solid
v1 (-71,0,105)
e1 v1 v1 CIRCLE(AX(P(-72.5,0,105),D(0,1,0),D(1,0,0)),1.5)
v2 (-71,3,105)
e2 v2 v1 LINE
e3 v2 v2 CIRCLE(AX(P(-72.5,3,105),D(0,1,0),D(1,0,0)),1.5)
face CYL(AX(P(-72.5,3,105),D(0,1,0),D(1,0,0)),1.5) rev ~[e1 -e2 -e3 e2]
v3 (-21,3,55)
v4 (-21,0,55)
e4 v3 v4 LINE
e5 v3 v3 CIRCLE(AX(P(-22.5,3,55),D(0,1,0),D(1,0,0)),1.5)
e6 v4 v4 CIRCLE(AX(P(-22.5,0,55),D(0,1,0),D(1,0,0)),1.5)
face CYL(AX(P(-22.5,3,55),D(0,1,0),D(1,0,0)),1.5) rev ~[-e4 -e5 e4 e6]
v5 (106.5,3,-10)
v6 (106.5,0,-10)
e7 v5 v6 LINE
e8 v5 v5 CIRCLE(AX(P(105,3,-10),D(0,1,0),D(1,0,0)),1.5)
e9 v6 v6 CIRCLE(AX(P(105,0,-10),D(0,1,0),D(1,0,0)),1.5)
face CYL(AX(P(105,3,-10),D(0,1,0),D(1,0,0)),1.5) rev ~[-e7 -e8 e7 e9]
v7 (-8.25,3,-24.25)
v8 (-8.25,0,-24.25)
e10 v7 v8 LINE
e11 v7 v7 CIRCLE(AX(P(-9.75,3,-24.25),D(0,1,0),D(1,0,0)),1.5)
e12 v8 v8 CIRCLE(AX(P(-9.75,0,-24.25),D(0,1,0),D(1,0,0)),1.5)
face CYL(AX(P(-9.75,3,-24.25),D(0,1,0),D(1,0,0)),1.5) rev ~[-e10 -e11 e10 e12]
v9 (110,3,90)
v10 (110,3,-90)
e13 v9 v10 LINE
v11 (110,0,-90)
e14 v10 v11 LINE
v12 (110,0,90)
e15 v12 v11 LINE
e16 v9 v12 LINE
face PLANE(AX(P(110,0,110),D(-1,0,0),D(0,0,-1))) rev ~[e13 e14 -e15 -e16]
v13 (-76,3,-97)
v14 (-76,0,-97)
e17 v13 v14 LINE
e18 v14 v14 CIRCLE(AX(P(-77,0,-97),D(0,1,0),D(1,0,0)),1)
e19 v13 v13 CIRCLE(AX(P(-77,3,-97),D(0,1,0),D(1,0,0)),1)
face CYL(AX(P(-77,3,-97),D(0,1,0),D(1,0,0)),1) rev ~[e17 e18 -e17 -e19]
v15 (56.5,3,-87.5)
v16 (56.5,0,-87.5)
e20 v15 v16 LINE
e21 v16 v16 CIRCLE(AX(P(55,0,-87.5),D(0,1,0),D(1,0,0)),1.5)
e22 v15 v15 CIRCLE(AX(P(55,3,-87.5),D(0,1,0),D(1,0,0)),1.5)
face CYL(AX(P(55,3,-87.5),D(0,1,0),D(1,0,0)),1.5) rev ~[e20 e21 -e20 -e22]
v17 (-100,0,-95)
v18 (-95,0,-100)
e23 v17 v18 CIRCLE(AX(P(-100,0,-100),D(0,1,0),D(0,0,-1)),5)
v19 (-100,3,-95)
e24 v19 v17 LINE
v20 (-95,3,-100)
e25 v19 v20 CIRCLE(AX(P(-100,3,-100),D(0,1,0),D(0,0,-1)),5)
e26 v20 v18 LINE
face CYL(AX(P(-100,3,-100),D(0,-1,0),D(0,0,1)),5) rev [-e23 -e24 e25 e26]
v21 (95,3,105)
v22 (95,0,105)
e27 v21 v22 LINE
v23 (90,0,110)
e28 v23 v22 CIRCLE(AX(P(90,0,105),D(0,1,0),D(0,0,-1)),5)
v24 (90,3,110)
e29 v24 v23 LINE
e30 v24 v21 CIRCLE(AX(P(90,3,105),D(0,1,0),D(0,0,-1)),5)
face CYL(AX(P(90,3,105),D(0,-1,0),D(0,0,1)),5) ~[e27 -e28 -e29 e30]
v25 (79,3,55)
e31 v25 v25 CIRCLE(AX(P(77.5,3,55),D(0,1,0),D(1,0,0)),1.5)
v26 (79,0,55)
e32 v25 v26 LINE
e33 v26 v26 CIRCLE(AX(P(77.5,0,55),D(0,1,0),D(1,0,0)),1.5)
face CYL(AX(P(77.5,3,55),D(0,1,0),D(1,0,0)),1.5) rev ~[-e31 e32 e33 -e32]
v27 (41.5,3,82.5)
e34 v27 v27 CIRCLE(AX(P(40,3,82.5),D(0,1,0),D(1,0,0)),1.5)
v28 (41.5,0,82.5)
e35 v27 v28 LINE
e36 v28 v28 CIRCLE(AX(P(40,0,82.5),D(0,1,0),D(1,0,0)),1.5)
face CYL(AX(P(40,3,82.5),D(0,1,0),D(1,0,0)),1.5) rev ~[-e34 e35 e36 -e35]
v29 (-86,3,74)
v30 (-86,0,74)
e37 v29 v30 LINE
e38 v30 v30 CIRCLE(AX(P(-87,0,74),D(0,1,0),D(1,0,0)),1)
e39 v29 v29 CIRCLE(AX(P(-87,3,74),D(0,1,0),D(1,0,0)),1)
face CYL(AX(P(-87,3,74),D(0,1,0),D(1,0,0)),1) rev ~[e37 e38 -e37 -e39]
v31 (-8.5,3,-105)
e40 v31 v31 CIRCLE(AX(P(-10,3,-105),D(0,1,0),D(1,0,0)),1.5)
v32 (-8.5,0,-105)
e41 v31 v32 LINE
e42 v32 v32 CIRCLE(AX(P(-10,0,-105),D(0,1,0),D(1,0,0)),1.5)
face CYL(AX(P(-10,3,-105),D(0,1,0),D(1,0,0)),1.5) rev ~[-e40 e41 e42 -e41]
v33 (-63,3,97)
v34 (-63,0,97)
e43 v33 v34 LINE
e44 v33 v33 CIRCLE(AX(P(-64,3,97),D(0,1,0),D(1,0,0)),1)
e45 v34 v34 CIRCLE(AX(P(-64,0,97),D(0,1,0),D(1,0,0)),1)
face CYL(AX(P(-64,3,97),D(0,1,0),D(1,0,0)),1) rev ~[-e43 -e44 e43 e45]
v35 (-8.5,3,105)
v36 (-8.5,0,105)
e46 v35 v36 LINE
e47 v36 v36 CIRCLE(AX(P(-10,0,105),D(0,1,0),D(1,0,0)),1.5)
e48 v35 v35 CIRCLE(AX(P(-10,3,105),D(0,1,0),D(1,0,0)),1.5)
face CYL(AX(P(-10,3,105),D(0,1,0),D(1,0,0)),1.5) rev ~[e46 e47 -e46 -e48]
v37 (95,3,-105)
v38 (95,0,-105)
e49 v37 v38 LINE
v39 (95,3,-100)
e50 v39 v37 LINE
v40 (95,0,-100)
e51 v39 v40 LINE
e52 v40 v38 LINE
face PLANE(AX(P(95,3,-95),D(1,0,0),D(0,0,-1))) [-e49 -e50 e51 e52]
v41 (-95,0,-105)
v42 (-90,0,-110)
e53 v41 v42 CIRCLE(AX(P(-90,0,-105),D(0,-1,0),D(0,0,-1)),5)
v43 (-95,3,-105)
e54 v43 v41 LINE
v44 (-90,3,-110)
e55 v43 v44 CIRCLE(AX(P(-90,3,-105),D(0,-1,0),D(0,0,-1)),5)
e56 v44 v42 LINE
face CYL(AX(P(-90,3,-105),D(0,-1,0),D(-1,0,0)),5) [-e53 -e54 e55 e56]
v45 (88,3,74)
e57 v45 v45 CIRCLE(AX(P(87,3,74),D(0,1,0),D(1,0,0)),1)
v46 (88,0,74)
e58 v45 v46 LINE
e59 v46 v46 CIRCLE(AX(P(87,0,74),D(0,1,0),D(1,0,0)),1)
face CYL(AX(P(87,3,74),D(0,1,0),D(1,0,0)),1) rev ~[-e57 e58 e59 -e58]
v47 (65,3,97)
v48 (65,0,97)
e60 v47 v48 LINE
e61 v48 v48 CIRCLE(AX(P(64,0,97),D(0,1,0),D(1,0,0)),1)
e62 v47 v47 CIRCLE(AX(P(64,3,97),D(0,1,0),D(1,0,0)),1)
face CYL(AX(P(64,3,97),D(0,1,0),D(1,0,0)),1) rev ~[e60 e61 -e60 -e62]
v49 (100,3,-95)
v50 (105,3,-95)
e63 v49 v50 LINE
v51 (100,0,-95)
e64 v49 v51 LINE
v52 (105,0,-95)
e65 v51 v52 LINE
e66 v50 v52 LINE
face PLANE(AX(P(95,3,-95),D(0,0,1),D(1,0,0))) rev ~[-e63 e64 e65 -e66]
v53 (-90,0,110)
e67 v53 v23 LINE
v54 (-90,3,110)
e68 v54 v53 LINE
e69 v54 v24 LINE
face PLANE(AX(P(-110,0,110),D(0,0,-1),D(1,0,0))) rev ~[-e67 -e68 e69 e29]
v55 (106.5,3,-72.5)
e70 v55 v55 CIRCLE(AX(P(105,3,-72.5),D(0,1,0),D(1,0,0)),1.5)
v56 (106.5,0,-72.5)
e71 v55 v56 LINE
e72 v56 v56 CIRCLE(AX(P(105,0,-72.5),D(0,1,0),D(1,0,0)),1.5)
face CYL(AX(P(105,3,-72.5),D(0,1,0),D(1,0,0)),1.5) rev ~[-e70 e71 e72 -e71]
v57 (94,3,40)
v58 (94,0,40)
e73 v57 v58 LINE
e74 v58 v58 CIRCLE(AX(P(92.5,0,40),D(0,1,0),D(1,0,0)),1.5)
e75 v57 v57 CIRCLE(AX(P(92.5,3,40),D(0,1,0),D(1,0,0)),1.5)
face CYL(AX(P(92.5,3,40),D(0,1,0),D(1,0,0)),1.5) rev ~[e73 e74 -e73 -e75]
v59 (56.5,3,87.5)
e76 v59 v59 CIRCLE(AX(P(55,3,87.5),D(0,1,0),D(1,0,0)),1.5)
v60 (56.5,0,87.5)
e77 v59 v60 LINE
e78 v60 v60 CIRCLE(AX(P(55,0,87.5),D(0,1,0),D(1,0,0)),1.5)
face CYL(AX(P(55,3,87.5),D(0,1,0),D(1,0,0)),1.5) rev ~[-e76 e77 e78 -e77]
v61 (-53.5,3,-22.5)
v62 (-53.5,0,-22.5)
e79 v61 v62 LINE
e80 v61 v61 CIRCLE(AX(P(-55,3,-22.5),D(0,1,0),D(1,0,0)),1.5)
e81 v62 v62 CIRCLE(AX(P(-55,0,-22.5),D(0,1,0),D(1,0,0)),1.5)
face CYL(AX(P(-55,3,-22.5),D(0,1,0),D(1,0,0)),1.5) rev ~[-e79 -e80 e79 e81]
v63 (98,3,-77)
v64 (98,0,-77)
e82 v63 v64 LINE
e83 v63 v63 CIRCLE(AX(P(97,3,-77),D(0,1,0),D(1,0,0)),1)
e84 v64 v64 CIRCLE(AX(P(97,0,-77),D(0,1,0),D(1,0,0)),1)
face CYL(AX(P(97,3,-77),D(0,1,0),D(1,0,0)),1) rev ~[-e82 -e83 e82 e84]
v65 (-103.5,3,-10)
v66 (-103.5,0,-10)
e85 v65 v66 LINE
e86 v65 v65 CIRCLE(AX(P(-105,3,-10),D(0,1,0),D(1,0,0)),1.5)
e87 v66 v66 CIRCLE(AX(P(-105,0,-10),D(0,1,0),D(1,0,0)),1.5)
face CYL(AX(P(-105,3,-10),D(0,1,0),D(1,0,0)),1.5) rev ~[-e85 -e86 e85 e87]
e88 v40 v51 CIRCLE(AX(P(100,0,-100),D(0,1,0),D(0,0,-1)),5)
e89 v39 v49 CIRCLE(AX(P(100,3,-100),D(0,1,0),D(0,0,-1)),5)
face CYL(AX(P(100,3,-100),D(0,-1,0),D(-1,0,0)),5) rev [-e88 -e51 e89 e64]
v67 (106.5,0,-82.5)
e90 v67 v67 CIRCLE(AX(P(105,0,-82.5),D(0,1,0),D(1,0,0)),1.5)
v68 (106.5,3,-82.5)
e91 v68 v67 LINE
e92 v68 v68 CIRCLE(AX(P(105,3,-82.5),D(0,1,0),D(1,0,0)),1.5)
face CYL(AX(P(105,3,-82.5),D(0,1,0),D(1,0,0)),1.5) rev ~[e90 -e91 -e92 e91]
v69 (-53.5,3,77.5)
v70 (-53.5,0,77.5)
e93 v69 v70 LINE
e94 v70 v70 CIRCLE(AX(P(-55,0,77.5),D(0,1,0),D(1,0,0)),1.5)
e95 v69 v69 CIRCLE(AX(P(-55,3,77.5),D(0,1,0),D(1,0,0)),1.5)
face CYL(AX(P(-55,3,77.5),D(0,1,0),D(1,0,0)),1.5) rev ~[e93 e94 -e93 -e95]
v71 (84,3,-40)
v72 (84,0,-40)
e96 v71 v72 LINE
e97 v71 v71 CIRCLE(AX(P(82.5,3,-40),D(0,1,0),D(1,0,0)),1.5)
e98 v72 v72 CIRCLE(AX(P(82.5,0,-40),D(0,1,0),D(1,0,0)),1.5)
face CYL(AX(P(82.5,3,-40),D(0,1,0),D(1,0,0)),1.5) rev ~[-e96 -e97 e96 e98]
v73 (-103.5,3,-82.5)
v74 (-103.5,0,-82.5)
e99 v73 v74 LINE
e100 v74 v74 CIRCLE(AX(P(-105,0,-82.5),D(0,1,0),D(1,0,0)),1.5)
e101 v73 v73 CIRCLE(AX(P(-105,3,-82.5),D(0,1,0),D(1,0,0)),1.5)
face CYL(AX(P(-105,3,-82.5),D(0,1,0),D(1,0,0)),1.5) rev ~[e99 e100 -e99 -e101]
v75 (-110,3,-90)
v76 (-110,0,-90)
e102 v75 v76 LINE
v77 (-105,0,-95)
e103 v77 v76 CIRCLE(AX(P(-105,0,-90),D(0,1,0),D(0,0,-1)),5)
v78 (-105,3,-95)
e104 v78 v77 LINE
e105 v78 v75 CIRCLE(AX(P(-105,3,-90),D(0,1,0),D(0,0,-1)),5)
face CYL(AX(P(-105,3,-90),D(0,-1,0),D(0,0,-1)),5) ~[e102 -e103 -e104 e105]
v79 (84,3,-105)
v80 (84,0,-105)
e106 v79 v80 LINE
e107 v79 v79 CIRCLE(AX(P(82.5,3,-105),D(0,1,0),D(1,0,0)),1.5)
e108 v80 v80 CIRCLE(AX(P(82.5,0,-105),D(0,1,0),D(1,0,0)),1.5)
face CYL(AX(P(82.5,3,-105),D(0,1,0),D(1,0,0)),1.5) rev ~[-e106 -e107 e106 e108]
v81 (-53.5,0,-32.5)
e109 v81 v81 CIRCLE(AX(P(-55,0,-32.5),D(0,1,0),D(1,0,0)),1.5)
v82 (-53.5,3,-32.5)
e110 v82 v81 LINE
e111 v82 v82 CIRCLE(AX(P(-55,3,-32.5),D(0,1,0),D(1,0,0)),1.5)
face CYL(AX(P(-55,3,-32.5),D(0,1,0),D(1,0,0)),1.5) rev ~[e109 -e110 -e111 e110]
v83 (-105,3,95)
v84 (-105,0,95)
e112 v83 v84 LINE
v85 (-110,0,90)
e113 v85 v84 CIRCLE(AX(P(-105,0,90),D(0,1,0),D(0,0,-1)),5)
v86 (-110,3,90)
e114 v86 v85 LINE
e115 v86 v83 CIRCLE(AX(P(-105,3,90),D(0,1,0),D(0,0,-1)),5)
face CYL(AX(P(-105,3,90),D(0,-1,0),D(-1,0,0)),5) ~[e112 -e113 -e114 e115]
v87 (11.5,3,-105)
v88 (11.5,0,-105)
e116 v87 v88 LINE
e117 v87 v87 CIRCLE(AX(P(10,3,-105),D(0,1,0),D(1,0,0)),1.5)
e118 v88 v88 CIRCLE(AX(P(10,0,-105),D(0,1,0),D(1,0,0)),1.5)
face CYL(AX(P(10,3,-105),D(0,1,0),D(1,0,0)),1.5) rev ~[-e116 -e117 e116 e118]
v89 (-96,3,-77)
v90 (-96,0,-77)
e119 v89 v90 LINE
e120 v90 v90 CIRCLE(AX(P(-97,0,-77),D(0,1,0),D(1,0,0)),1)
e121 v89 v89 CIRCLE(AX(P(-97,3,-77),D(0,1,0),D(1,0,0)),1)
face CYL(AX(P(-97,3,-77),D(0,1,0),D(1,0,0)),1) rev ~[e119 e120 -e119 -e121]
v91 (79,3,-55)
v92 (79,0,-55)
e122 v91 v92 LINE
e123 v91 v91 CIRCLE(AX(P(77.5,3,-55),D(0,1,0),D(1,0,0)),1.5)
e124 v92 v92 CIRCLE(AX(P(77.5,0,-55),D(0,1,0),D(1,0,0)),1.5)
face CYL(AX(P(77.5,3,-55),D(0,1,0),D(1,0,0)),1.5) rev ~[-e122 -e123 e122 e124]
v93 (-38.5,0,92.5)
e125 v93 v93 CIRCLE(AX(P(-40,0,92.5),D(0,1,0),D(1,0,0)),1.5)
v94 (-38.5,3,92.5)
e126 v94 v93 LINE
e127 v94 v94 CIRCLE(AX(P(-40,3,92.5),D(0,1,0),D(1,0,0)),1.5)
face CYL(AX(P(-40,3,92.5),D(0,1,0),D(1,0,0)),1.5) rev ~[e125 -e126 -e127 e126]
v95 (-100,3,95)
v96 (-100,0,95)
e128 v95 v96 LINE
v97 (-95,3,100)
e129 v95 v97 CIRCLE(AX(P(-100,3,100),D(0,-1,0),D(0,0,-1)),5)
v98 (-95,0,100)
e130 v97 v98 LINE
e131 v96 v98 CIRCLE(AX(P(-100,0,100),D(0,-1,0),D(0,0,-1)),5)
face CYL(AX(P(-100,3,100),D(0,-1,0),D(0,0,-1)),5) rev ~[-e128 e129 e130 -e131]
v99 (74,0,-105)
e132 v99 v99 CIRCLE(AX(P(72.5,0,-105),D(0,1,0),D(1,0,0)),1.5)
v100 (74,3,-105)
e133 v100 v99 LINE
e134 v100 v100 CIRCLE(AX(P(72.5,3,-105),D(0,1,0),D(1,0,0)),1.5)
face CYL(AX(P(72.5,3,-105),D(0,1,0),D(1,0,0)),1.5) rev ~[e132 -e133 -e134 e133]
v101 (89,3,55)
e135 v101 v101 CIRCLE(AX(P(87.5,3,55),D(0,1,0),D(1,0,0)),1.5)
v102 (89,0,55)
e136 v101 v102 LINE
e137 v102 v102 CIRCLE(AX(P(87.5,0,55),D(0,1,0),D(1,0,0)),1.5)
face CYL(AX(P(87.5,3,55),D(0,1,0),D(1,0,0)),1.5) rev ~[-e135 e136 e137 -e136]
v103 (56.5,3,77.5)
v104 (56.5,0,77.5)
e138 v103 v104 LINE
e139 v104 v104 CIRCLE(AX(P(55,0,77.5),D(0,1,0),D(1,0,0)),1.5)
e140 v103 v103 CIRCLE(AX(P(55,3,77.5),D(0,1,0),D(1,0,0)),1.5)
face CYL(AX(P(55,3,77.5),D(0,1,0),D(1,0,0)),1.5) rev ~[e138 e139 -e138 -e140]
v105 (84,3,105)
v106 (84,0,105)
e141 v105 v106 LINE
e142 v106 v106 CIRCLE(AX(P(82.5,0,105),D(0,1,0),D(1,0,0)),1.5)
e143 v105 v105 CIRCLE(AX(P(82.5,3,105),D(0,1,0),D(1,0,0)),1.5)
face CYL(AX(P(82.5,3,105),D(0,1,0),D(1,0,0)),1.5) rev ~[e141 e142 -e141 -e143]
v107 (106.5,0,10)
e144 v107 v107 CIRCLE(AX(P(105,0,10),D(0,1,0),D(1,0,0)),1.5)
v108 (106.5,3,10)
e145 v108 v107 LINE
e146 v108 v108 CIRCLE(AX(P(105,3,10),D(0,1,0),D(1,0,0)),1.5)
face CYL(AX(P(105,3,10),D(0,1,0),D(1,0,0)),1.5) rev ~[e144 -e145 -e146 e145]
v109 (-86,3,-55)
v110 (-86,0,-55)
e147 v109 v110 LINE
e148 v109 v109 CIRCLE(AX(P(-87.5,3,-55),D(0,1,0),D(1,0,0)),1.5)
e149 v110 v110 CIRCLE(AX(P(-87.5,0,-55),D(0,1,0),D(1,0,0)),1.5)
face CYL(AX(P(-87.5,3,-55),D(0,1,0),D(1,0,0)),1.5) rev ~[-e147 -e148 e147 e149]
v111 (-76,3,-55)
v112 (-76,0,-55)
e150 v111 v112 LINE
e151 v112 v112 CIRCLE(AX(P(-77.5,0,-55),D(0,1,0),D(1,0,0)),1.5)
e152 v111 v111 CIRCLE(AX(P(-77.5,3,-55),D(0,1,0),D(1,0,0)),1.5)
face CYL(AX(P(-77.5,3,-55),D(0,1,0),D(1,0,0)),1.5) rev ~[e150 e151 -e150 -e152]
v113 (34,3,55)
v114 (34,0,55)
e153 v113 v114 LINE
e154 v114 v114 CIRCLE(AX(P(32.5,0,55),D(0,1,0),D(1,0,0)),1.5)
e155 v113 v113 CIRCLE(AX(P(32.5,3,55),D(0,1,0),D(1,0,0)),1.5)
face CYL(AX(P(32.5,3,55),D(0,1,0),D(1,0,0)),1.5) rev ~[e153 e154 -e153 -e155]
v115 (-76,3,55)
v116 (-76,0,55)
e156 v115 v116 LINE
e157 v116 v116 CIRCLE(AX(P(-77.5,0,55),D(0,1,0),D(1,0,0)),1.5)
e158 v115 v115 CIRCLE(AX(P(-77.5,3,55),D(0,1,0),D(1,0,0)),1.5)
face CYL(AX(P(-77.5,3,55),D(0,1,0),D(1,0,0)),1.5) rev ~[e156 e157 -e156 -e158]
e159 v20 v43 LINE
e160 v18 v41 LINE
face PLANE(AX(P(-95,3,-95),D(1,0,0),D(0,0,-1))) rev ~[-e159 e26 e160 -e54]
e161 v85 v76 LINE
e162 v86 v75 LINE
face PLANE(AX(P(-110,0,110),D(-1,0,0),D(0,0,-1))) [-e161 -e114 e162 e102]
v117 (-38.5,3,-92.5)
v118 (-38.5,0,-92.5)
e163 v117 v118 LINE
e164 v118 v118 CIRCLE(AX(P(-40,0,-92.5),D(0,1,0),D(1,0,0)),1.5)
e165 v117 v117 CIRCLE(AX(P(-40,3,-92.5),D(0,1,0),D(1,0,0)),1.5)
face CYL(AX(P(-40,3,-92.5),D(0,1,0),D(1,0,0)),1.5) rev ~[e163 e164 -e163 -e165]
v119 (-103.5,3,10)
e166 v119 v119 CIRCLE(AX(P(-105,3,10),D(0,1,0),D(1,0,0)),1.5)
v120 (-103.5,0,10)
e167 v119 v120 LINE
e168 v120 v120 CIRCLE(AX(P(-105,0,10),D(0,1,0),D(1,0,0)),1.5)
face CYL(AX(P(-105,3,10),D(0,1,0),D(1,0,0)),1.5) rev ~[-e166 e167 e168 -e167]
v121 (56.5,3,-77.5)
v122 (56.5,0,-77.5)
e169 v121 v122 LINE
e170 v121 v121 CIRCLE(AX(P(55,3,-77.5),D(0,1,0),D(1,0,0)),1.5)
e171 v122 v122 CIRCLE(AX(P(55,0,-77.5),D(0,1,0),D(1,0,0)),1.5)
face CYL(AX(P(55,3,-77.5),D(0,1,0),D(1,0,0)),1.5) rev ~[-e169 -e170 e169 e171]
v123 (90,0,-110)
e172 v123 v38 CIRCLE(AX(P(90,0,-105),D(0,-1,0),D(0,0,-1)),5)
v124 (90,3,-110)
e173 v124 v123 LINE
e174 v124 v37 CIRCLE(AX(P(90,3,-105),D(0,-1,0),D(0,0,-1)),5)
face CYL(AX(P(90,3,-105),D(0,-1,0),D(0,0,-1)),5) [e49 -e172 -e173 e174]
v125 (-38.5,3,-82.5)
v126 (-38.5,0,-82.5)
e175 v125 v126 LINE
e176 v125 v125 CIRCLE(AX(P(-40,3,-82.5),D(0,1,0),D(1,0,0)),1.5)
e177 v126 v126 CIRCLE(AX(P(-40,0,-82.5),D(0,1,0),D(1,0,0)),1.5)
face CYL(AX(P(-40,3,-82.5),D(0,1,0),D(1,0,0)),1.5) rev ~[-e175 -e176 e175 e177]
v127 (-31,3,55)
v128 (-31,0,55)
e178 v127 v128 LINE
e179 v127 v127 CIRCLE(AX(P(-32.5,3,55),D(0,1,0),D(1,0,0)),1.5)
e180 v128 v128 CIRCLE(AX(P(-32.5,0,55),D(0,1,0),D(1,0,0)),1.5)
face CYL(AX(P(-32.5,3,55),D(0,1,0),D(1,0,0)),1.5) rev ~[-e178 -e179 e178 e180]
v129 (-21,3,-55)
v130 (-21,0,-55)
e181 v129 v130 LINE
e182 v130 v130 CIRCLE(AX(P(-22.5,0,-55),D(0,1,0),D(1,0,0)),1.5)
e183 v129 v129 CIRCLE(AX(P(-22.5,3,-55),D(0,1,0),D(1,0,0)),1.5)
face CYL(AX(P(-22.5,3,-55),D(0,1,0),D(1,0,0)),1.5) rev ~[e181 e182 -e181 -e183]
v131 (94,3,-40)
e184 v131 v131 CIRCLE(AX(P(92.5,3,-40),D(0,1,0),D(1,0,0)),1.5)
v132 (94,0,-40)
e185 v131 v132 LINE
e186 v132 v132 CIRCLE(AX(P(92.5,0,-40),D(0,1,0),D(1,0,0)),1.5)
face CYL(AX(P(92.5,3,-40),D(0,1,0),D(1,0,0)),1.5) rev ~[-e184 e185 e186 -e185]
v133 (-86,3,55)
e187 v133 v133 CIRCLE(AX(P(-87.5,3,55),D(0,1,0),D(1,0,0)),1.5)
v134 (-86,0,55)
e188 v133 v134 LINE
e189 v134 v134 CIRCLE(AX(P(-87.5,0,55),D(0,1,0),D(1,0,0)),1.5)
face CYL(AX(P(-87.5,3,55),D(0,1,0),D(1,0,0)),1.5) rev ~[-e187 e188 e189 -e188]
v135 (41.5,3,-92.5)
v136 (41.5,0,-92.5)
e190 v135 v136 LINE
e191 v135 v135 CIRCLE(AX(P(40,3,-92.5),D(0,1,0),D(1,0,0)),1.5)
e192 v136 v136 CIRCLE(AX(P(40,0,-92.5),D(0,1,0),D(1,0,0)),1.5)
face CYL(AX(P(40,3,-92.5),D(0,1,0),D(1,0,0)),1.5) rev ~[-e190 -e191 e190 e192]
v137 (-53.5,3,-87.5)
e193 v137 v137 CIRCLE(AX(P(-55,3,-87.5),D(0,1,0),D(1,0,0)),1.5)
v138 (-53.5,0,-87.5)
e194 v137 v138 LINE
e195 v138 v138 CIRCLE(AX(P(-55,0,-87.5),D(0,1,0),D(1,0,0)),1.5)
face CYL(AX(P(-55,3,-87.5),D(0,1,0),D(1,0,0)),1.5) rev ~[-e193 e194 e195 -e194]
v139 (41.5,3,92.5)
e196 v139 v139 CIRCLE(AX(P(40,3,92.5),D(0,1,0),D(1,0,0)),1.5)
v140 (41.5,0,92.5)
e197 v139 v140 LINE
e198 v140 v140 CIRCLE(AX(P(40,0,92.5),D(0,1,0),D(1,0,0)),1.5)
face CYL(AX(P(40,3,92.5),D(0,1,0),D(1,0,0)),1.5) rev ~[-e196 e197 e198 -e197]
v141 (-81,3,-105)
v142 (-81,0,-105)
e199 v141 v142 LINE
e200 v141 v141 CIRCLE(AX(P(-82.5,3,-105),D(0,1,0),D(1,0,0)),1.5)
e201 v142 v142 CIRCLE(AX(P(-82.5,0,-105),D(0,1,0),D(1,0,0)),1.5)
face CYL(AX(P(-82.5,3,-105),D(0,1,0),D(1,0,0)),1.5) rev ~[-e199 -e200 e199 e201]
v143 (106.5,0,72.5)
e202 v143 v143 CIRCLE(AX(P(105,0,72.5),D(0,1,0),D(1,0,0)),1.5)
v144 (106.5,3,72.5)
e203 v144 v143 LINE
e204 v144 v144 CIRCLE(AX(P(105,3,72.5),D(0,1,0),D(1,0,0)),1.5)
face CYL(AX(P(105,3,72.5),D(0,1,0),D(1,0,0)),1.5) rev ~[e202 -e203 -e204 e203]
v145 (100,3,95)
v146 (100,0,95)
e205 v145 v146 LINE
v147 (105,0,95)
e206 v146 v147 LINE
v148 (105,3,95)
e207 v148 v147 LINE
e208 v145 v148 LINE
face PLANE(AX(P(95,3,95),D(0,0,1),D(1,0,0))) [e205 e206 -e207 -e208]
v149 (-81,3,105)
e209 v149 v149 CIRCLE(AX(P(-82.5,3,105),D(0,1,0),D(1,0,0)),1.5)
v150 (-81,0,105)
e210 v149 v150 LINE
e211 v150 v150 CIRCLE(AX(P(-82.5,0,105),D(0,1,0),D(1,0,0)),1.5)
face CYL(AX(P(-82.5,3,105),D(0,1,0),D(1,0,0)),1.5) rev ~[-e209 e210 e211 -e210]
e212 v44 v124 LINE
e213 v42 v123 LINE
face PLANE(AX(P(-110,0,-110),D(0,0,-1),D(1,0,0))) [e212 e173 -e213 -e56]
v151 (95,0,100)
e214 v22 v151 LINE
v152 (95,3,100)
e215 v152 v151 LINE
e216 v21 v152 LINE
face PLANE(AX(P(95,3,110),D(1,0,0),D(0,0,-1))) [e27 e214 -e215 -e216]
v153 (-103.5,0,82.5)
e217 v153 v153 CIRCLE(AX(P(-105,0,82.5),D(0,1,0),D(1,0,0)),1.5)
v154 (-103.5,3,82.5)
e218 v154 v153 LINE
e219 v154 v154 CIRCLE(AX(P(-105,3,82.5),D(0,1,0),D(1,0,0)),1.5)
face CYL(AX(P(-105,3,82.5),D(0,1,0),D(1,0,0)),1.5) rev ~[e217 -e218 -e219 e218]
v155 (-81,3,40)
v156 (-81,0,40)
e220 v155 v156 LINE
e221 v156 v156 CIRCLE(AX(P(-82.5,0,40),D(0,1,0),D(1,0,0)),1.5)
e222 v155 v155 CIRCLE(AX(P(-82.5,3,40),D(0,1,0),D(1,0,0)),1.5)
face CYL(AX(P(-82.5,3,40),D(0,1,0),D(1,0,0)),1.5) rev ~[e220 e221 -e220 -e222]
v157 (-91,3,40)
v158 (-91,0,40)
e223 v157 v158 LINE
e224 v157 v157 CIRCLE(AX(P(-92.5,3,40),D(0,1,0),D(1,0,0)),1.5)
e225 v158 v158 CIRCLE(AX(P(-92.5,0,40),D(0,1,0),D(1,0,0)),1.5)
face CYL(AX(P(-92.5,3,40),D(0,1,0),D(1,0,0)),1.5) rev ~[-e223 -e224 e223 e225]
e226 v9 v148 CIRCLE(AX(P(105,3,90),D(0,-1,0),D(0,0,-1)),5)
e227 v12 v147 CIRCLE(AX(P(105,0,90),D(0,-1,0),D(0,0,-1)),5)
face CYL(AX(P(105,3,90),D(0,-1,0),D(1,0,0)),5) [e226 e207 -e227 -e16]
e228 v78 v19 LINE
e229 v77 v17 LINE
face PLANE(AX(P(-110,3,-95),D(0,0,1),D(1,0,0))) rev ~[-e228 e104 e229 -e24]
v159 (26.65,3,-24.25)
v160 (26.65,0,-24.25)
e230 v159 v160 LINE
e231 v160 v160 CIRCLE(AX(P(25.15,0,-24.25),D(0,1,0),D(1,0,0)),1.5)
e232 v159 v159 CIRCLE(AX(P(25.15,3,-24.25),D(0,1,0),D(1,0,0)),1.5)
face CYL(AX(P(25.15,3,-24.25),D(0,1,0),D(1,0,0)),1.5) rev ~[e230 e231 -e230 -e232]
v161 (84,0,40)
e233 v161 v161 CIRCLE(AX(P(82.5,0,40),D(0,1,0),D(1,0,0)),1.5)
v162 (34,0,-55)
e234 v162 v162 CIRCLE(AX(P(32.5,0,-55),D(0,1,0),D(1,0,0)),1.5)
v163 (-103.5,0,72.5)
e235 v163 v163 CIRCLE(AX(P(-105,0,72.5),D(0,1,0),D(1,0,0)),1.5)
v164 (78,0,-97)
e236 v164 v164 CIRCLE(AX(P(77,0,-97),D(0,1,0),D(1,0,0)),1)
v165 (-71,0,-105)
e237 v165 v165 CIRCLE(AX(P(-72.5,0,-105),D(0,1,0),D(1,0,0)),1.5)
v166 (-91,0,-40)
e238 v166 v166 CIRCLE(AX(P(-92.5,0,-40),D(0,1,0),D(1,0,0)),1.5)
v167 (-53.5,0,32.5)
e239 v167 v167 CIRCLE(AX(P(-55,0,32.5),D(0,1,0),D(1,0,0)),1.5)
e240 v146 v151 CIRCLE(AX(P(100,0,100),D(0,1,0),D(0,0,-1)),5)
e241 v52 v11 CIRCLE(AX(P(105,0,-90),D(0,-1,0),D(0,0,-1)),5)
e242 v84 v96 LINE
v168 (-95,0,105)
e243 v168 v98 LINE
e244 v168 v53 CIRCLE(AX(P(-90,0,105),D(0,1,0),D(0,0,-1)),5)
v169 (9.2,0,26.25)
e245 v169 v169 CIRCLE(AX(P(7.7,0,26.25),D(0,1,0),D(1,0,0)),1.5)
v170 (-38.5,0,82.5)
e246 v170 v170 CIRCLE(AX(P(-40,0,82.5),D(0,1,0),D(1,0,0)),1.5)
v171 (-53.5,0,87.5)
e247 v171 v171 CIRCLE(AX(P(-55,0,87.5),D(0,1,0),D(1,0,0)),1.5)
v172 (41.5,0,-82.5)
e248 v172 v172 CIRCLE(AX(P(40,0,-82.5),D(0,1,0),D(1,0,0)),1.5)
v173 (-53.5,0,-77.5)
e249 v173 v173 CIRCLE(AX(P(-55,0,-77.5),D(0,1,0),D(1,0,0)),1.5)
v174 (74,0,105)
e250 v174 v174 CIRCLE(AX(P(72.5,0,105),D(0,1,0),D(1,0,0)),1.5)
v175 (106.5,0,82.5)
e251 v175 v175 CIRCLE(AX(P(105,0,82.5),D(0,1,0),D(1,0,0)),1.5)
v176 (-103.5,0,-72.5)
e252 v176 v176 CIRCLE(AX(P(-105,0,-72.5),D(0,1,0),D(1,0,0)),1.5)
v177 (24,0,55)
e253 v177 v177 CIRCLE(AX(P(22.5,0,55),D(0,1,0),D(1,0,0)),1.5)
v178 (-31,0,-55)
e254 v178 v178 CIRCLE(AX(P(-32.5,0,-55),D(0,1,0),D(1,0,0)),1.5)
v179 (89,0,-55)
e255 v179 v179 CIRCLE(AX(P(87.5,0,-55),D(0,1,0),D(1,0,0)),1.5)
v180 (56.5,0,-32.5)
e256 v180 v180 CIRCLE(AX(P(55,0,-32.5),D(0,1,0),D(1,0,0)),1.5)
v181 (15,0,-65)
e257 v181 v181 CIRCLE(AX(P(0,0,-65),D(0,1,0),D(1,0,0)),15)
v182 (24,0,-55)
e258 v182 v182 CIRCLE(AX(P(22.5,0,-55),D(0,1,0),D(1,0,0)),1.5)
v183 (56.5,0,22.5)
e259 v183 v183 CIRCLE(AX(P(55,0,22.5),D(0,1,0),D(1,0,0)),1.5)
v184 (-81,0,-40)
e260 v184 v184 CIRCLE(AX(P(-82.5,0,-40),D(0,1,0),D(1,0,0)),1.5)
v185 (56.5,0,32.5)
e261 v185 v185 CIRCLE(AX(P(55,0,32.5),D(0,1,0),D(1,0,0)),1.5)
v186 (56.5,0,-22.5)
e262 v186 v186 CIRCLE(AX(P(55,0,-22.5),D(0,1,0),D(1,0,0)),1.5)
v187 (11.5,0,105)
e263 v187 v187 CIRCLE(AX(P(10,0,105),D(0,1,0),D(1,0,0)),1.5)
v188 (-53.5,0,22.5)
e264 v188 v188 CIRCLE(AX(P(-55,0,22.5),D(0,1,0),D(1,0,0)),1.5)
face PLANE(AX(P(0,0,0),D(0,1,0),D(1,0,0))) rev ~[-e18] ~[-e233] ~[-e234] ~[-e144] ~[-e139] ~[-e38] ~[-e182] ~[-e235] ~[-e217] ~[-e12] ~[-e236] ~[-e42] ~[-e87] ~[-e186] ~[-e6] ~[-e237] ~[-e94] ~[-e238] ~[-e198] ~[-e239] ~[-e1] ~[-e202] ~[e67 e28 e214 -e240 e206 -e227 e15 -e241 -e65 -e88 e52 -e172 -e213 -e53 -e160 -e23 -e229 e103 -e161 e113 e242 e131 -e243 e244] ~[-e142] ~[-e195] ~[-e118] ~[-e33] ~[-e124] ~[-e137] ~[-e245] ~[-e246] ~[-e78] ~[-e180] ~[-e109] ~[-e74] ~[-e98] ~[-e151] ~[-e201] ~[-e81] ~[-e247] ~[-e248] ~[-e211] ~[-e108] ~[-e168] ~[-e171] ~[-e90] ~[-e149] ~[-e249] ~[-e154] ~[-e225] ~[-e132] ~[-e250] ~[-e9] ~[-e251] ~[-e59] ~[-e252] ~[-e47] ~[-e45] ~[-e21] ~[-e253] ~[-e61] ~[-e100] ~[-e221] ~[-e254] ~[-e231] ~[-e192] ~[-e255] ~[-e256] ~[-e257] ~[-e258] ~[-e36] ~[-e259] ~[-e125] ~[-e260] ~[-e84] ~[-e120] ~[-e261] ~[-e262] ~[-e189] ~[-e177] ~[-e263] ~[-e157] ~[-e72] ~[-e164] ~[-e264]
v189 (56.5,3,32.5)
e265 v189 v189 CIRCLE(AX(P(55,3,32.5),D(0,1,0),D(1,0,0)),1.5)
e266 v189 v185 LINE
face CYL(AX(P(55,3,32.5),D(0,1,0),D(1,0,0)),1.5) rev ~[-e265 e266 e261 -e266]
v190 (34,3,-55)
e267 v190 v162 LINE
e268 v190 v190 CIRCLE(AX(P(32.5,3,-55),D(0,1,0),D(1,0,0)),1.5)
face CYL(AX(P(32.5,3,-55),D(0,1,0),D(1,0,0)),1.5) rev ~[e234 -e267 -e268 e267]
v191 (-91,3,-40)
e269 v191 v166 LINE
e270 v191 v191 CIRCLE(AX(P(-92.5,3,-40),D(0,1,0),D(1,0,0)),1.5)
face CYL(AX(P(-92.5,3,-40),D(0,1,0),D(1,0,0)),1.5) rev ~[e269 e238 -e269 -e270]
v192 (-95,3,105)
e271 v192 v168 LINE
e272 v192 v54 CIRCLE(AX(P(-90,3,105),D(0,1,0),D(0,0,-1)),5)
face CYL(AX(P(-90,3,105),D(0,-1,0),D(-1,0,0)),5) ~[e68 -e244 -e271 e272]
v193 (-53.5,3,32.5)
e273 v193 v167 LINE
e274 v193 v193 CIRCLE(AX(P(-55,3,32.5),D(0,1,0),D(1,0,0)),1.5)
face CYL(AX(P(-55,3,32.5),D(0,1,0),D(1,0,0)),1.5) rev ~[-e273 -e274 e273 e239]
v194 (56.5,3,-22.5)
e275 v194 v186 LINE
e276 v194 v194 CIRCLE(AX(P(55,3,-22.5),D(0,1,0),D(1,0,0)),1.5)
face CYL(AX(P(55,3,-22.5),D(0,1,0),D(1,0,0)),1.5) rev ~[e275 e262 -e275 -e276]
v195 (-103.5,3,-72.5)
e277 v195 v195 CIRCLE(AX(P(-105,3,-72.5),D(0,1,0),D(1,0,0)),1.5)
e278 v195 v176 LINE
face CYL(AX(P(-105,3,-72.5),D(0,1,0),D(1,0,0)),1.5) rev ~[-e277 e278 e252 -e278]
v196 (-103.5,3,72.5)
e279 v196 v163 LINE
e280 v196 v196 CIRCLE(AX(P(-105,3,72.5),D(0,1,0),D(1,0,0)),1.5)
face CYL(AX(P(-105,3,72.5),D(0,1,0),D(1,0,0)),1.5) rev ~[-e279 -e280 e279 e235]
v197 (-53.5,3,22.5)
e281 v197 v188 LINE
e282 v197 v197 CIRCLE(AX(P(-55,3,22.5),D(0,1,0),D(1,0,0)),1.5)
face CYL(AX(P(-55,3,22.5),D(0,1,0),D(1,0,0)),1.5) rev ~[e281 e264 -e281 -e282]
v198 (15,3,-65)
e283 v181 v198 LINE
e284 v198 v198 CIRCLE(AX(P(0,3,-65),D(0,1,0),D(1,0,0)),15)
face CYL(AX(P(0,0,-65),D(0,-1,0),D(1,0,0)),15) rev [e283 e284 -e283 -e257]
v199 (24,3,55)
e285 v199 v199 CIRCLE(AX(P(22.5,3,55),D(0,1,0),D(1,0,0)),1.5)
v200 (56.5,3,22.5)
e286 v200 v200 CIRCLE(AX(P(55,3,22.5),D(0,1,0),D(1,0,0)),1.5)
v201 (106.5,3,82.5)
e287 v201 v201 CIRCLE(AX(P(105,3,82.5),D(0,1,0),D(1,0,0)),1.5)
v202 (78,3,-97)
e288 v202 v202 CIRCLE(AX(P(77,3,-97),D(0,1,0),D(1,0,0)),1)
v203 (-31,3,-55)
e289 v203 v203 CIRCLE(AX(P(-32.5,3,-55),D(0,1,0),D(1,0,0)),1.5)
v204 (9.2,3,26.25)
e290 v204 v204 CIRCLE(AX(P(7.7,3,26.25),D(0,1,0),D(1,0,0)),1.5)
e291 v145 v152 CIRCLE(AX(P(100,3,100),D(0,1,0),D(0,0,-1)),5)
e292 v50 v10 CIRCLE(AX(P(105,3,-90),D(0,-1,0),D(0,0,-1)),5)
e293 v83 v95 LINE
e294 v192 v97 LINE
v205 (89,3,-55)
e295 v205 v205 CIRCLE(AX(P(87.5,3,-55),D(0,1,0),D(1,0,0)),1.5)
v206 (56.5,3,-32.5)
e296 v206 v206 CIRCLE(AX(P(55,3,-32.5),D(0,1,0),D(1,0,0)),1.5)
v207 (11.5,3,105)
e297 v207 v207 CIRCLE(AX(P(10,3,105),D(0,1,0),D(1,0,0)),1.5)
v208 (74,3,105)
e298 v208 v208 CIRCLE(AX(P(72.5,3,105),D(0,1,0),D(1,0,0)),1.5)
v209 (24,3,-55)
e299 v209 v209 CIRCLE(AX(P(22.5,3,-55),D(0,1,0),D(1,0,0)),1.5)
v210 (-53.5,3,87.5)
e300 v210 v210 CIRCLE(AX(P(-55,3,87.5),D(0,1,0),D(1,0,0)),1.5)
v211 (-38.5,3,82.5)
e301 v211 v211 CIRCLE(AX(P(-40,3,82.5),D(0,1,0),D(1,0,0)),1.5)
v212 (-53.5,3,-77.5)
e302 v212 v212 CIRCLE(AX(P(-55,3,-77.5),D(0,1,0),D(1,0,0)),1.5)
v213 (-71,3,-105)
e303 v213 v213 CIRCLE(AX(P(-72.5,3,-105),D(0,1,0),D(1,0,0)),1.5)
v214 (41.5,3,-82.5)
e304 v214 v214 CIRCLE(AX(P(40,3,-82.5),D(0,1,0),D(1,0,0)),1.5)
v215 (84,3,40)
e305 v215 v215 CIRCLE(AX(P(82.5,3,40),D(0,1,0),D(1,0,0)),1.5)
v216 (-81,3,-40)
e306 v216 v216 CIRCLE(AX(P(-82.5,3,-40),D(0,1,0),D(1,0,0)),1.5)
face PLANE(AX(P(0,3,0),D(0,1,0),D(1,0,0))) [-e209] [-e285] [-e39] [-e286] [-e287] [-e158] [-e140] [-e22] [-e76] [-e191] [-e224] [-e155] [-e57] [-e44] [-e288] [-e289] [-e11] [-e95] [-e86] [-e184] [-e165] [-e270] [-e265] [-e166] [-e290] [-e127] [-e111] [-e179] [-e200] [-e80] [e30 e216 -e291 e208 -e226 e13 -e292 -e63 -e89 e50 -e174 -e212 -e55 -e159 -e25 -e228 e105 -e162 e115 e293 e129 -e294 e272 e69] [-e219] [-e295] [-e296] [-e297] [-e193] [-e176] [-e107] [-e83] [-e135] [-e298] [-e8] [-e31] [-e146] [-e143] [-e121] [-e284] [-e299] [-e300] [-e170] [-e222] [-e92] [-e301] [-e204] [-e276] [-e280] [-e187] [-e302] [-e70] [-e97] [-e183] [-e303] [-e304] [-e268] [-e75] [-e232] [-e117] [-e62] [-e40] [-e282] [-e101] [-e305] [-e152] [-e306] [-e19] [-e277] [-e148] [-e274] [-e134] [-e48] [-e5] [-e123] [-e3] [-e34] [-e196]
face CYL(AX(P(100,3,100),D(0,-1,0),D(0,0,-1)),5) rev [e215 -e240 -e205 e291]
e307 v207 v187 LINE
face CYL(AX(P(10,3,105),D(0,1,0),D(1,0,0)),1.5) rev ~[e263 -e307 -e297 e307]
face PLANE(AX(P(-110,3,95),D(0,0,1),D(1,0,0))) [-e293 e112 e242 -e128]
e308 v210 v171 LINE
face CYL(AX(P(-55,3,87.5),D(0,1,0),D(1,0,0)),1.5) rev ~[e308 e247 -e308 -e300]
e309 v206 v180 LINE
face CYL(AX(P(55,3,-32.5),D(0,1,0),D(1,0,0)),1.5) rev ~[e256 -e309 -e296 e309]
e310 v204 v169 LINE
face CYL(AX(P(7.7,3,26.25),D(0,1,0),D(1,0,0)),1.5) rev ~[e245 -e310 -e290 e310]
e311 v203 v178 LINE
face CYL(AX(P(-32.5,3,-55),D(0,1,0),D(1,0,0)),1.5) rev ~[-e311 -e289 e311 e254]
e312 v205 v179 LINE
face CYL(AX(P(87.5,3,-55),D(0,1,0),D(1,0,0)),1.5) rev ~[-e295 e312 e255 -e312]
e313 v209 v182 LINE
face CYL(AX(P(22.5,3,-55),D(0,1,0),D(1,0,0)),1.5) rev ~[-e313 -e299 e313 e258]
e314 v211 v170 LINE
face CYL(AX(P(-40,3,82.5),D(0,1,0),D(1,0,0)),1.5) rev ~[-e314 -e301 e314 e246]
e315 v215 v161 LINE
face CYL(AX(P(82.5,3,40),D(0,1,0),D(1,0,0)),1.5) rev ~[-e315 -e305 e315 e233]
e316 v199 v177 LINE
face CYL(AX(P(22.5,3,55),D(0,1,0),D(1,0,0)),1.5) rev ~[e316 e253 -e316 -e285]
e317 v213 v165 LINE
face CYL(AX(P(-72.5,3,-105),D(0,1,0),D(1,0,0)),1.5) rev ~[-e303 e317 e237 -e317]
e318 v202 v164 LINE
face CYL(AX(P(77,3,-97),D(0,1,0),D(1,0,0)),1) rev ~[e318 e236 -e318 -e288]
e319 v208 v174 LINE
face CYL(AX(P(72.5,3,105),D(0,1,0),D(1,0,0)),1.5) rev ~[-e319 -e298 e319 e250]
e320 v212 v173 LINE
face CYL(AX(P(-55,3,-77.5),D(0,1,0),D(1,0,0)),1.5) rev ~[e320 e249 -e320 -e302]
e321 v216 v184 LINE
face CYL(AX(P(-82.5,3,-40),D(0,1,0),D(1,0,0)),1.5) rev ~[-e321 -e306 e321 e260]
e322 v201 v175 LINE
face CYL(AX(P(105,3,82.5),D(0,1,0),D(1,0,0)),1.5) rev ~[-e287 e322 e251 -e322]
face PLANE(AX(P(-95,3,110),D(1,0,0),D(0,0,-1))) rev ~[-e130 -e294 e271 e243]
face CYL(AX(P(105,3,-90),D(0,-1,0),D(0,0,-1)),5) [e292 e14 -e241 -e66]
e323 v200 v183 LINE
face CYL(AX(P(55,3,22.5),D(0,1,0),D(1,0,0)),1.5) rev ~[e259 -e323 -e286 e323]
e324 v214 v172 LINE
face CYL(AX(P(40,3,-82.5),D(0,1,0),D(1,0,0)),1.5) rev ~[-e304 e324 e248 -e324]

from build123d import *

# Parameters (mm, degrees)
SKETCH_1_W                 = 220
SKETCH_1_H                 = 220
SKETCH_1_R                 = 15
EXTRUDE_1_DEPTH            = 3
SKETCH_3_W                 = 15
SKETCH_3_H                 = 15
CUT_EXTRUDE_1_DEPTH        = 4
FILLET_1_R                 = 5
FILLET_2_R                 = 5
SKETCH_4_R                 = 1.5
CUT_EXTRUDE_2_DEPTH        = 4
SKETCH_6_R                 = 1.5
MTI_680G_HOLES_DEPTH       = 4
SKETCH1_R                  = 1.5
COLUMN_HOLES_DEPTH         = 4
SKETCH2_R                  = 1
LIGHTING_COVER_HOLES_DEPTH = 4
SKETCH3_R                  = 1.5
CUT_EXTRUDE3_DEPTH         = 4


with BuildPart() as part:
    # Эскиз1 → Бобышка-Вытянуть1 (new body)
    with BuildSketch(Plane(origin=(0, 0, 0), x_dir=(1, 0, 0), z_dir=(0, 1, 0))):
        Rectangle(SKETCH_1_W, SKETCH_1_H)
        with Locations((0, 65)):
            Circle(SKETCH_1_R, mode=Mode.SUBTRACT)
    extrude(amount=EXTRUDE_1_DEPTH)

    # Эскиз3 → Вырез-Вытянуть1 (cut, through all)
    with BuildSketch(Plane(origin=(0, 3, 0), x_dir=(1, 0, 0), z_dir=(0, 1, 0))):
        with Locations((102.5, 102.5)):
            Rectangle(SKETCH_3_W, SKETCH_3_H)
        with Locations((-102.5, 102.5)):
            Rectangle(SKETCH_3_W, SKETCH_3_H)
        with Locations((102.5, -102.5)):
            Rectangle(SKETCH_3_W, SKETCH_3_H)
        with Locations((-102.5, -102.5)):
            Rectangle(SKETCH_3_W, SKETCH_3_H)
    extrude(amount=-CUT_EXTRUDE_1_DEPTH, mode=Mode.SUBTRACT)

    # Скругление1
    fillet_1_edges = [part.edges().sort_by_distance(p)[0] for p in [
        (-95, 1.5, 95),
        (95, 1.5, 95),
        (95, 1.5, -95),
        (-95, 1.5, -95),
    ]]
    fillet(fillet_1_edges, radius=FILLET_1_R)

    # Скругление2
    fillet_2_edges = [part.edges().sort_by_distance(p)[0] for p in [
        (-95, 1.5, 110),
        (-110, 1.5, 95),
        (110, 1.5, 95),
        (95, 1.5, 110),
        (95, 1.5, -110),
        (110, 1.5, -95),
        (-110, 1.5, -95),
        (-95, 1.5, -110),
    ]]
    fillet(fillet_2_edges, radius=FILLET_2_R)

    # Эскиз4 → Вырез-Вытянуть2 (cut, through all)
    with BuildSketch(Plane(origin=(0, 3, 0), x_dir=(1, 0, 0), z_dir=(0, 1, 0))):
        with Locations((-82.5, 105)):
            Circle(SKETCH_4_R)
        with Locations((-72.5, 105)):
            Circle(SKETCH_4_R)
        with Locations((72.5, 105)):
            Circle(SKETCH_4_R)
        with Locations((82.5, 105)):
            Circle(SKETCH_4_R)
        with Locations((105, 82.5)):
            Circle(SKETCH_4_R)
        with Locations((105, 72.5)):
            Circle(SKETCH_4_R)
        with Locations((105, -72.5)):
            Circle(SKETCH_4_R)
        with Locations((105, -82.5)):
            Circle(SKETCH_4_R)
        with Locations((82.5, -105)):
            Circle(SKETCH_4_R)
        with Locations((72.5, -105)):
            Circle(SKETCH_4_R)
        with Locations((-72.5, -105)):
            Circle(SKETCH_4_R)
        with Locations((-82.5, -105)):
            Circle(SKETCH_4_R)
        with Locations((-105, -82.5)):
            Circle(SKETCH_4_R)
        with Locations((-105, -72.5)):
            Circle(SKETCH_4_R)
        with Locations((-105, 72.5)):
            Circle(SKETCH_4_R)
        with Locations((-105, 82.5)):
            Circle(SKETCH_4_R)
        with Locations((-10, 105)):
            Circle(SKETCH_4_R)
        with Locations((10, 105)):
            Circle(SKETCH_4_R)
        with Locations((105, 10)):
            Circle(SKETCH_4_R)
        with Locations((105, -10)):
            Circle(SKETCH_4_R)
        with Locations((10, -105)):
            Circle(SKETCH_4_R)
        with Locations((-10, -105)):
            Circle(SKETCH_4_R)
        with Locations((-105, -10)):
            Circle(SKETCH_4_R)
        with Locations((-105, 10)):
            Circle(SKETCH_4_R)
    extrude(amount=-CUT_EXTRUDE_2_DEPTH, mode=Mode.SUBTRACT)

    # Эскиз6 → MTi-680G holes (cut, through all)
    with BuildSketch(Plane(origin=(0, 3, 0), x_dir=(1, 0, 0), z_dir=(0, 1, 0))):
        with Locations((-9.75, 24.25)):
            Circle(SKETCH_6_R)
        with Locations((7.7, -26.25)):
            Circle(SKETCH_6_R)
        with Locations((25.15, 24.25)):
            Circle(SKETCH_6_R)
    extrude(amount=-MTI_680G_HOLES_DEPTH, mode=Mode.SUBTRACT)

    # Sketch1 → Column holes (cut, through all)
    with BuildSketch(Plane(origin=(0, 3, 0), x_dir=(1, 0, 0), z_dir=(0, 1, 0))):
        with Locations((-55, 32.5)):
            Circle(SKETCH1_R)
        with Locations((-55, 22.5)):
            Circle(SKETCH1_R)
        with Locations((-77.5, 55)):
            Circle(SKETCH1_R)
        with Locations((-87.5, 55)):
            Circle(SKETCH1_R)
        with Locations((-55, 77.5)):
            Circle(SKETCH1_R)
        with Locations((-55, 87.5)):
            Circle(SKETCH1_R)
        with Locations((-32.5, 55)):
            Circle(SKETCH1_R)
        with Locations((-22.5, 55)):
            Circle(SKETCH1_R)
        with Locations((32.5, 55)):
            Circle(SKETCH1_R)
        with Locations((22.5, 55)):
            Circle(SKETCH1_R)
        with Locations((55, 77.5)):
            Circle(SKETCH1_R)
        with Locations((55, 87.5)):
            Circle(SKETCH1_R)
        with Locations((77.5, 55)):
            Circle(SKETCH1_R)
        with Locations((87.5, 55)):
            Circle(SKETCH1_R)
        with Locations((55, 32.5)):
            Circle(SKETCH1_R)
        with Locations((55, 22.5)):
            Circle(SKETCH1_R)
        with Locations((55, -32.5)):
            Circle(SKETCH1_R)
        with Locations((55, -22.5)):
            Circle(SKETCH1_R)
        with Locations((77.5, -55)):
            Circle(SKETCH1_R)
        with Locations((87.5, -55)):
            Circle(SKETCH1_R)
        with Locations((55, -77.5)):
            Circle(SKETCH1_R)
        with Locations((55, -87.5)):
            Circle(SKETCH1_R)
        with Locations((32.5, -55)):
            Circle(SKETCH1_R)
        with Locations((22.5, -55)):
            Circle(SKETCH1_R)
        with Locations((-32.5, -55)):
            Circle(SKETCH1_R)
        with Locations((-22.5, -55)):
            Circle(SKETCH1_R)
        with Locations((-55, -77.5)):
            Circle(SKETCH1_R)
        with Locations((-55, -87.5)):
            Circle(SKETCH1_R)
        with Locations((-77.5, -55)):
            Circle(SKETCH1_R)
        with Locations((-87.5, -55)):
            Circle(SKETCH1_R)
        with Locations((-55, -32.5)):
            Circle(SKETCH1_R)
        with Locations((-55, -22.5)):
            Circle(SKETCH1_R)
    extrude(amount=-COLUMN_HOLES_DEPTH, mode=Mode.SUBTRACT)

    # Sketch2 → Lighting cover holes (cut, through all)
    with BuildSketch(Plane(origin=(0, 3, 0), x_dir=(1, 0, 0), z_dir=(0, 1, 0))):
        with Locations((-77, 97)):
            Circle(SKETCH2_R)
        with Locations((-97, 77)):
            Circle(SKETCH2_R)
        with Locations((77, 97)):
            Circle(SKETCH2_R)
        with Locations((97, 77)):
            Circle(SKETCH2_R)
        with Locations((-87, -74)):
            Circle(SKETCH2_R)
        with Locations((-64, -97)):
            Circle(SKETCH2_R)
        with Locations((64, -97)):
            Circle(SKETCH2_R)
        with Locations((87, -74)):
            Circle(SKETCH2_R)
    extrude(amount=-LIGHTING_COVER_HOLES_DEPTH, mode=Mode.SUBTRACT)

    # Sketch3 → Cut-Extrude3 (cut, through all)
    with BuildSketch(Plane(origin=(0, 3, 0), x_dir=(1, 0, 0), z_dir=(0, 1, 0))):
        with Locations((-40, -92.5)):
            Circle(SKETCH3_R)
        with Locations((-40, -82.5)):
            Circle(SKETCH3_R)
        with Locations((40, -82.5)):
            Circle(SKETCH3_R)
        with Locations((40, -92.5)):
            Circle(SKETCH3_R)
        with Locations((-92.5, 40)):
            Circle(SKETCH3_R)
        with Locations((-82.5, 40)):
            Circle(SKETCH3_R)
        with Locations((-82.5, -40)):
            Circle(SKETCH3_R)
        with Locations((-92.5, -40)):
            Circle(SKETCH3_R)
        with Locations((40, 92.5)):
            Circle(SKETCH3_R)
        with Locations((40, 82.5)):
            Circle(SKETCH3_R)
        with Locations((-40, 82.5)):
            Circle(SKETCH3_R)
        with Locations((-40, 92.5)):
            Circle(SKETCH3_R)
        with Locations((92.5, -40)):
            Circle(SKETCH3_R)
        with Locations((82.5, -40)):
            Circle(SKETCH3_R)
        with Locations((82.5, 40)):
            Circle(SKETCH3_R)
        with Locations((92.5, 40)):
            Circle(SKETCH3_R)
    extrude(amount=-CUT_EXTRUDE3_DEPTH, mode=Mode.SUBTRACT)


solid = part.part
